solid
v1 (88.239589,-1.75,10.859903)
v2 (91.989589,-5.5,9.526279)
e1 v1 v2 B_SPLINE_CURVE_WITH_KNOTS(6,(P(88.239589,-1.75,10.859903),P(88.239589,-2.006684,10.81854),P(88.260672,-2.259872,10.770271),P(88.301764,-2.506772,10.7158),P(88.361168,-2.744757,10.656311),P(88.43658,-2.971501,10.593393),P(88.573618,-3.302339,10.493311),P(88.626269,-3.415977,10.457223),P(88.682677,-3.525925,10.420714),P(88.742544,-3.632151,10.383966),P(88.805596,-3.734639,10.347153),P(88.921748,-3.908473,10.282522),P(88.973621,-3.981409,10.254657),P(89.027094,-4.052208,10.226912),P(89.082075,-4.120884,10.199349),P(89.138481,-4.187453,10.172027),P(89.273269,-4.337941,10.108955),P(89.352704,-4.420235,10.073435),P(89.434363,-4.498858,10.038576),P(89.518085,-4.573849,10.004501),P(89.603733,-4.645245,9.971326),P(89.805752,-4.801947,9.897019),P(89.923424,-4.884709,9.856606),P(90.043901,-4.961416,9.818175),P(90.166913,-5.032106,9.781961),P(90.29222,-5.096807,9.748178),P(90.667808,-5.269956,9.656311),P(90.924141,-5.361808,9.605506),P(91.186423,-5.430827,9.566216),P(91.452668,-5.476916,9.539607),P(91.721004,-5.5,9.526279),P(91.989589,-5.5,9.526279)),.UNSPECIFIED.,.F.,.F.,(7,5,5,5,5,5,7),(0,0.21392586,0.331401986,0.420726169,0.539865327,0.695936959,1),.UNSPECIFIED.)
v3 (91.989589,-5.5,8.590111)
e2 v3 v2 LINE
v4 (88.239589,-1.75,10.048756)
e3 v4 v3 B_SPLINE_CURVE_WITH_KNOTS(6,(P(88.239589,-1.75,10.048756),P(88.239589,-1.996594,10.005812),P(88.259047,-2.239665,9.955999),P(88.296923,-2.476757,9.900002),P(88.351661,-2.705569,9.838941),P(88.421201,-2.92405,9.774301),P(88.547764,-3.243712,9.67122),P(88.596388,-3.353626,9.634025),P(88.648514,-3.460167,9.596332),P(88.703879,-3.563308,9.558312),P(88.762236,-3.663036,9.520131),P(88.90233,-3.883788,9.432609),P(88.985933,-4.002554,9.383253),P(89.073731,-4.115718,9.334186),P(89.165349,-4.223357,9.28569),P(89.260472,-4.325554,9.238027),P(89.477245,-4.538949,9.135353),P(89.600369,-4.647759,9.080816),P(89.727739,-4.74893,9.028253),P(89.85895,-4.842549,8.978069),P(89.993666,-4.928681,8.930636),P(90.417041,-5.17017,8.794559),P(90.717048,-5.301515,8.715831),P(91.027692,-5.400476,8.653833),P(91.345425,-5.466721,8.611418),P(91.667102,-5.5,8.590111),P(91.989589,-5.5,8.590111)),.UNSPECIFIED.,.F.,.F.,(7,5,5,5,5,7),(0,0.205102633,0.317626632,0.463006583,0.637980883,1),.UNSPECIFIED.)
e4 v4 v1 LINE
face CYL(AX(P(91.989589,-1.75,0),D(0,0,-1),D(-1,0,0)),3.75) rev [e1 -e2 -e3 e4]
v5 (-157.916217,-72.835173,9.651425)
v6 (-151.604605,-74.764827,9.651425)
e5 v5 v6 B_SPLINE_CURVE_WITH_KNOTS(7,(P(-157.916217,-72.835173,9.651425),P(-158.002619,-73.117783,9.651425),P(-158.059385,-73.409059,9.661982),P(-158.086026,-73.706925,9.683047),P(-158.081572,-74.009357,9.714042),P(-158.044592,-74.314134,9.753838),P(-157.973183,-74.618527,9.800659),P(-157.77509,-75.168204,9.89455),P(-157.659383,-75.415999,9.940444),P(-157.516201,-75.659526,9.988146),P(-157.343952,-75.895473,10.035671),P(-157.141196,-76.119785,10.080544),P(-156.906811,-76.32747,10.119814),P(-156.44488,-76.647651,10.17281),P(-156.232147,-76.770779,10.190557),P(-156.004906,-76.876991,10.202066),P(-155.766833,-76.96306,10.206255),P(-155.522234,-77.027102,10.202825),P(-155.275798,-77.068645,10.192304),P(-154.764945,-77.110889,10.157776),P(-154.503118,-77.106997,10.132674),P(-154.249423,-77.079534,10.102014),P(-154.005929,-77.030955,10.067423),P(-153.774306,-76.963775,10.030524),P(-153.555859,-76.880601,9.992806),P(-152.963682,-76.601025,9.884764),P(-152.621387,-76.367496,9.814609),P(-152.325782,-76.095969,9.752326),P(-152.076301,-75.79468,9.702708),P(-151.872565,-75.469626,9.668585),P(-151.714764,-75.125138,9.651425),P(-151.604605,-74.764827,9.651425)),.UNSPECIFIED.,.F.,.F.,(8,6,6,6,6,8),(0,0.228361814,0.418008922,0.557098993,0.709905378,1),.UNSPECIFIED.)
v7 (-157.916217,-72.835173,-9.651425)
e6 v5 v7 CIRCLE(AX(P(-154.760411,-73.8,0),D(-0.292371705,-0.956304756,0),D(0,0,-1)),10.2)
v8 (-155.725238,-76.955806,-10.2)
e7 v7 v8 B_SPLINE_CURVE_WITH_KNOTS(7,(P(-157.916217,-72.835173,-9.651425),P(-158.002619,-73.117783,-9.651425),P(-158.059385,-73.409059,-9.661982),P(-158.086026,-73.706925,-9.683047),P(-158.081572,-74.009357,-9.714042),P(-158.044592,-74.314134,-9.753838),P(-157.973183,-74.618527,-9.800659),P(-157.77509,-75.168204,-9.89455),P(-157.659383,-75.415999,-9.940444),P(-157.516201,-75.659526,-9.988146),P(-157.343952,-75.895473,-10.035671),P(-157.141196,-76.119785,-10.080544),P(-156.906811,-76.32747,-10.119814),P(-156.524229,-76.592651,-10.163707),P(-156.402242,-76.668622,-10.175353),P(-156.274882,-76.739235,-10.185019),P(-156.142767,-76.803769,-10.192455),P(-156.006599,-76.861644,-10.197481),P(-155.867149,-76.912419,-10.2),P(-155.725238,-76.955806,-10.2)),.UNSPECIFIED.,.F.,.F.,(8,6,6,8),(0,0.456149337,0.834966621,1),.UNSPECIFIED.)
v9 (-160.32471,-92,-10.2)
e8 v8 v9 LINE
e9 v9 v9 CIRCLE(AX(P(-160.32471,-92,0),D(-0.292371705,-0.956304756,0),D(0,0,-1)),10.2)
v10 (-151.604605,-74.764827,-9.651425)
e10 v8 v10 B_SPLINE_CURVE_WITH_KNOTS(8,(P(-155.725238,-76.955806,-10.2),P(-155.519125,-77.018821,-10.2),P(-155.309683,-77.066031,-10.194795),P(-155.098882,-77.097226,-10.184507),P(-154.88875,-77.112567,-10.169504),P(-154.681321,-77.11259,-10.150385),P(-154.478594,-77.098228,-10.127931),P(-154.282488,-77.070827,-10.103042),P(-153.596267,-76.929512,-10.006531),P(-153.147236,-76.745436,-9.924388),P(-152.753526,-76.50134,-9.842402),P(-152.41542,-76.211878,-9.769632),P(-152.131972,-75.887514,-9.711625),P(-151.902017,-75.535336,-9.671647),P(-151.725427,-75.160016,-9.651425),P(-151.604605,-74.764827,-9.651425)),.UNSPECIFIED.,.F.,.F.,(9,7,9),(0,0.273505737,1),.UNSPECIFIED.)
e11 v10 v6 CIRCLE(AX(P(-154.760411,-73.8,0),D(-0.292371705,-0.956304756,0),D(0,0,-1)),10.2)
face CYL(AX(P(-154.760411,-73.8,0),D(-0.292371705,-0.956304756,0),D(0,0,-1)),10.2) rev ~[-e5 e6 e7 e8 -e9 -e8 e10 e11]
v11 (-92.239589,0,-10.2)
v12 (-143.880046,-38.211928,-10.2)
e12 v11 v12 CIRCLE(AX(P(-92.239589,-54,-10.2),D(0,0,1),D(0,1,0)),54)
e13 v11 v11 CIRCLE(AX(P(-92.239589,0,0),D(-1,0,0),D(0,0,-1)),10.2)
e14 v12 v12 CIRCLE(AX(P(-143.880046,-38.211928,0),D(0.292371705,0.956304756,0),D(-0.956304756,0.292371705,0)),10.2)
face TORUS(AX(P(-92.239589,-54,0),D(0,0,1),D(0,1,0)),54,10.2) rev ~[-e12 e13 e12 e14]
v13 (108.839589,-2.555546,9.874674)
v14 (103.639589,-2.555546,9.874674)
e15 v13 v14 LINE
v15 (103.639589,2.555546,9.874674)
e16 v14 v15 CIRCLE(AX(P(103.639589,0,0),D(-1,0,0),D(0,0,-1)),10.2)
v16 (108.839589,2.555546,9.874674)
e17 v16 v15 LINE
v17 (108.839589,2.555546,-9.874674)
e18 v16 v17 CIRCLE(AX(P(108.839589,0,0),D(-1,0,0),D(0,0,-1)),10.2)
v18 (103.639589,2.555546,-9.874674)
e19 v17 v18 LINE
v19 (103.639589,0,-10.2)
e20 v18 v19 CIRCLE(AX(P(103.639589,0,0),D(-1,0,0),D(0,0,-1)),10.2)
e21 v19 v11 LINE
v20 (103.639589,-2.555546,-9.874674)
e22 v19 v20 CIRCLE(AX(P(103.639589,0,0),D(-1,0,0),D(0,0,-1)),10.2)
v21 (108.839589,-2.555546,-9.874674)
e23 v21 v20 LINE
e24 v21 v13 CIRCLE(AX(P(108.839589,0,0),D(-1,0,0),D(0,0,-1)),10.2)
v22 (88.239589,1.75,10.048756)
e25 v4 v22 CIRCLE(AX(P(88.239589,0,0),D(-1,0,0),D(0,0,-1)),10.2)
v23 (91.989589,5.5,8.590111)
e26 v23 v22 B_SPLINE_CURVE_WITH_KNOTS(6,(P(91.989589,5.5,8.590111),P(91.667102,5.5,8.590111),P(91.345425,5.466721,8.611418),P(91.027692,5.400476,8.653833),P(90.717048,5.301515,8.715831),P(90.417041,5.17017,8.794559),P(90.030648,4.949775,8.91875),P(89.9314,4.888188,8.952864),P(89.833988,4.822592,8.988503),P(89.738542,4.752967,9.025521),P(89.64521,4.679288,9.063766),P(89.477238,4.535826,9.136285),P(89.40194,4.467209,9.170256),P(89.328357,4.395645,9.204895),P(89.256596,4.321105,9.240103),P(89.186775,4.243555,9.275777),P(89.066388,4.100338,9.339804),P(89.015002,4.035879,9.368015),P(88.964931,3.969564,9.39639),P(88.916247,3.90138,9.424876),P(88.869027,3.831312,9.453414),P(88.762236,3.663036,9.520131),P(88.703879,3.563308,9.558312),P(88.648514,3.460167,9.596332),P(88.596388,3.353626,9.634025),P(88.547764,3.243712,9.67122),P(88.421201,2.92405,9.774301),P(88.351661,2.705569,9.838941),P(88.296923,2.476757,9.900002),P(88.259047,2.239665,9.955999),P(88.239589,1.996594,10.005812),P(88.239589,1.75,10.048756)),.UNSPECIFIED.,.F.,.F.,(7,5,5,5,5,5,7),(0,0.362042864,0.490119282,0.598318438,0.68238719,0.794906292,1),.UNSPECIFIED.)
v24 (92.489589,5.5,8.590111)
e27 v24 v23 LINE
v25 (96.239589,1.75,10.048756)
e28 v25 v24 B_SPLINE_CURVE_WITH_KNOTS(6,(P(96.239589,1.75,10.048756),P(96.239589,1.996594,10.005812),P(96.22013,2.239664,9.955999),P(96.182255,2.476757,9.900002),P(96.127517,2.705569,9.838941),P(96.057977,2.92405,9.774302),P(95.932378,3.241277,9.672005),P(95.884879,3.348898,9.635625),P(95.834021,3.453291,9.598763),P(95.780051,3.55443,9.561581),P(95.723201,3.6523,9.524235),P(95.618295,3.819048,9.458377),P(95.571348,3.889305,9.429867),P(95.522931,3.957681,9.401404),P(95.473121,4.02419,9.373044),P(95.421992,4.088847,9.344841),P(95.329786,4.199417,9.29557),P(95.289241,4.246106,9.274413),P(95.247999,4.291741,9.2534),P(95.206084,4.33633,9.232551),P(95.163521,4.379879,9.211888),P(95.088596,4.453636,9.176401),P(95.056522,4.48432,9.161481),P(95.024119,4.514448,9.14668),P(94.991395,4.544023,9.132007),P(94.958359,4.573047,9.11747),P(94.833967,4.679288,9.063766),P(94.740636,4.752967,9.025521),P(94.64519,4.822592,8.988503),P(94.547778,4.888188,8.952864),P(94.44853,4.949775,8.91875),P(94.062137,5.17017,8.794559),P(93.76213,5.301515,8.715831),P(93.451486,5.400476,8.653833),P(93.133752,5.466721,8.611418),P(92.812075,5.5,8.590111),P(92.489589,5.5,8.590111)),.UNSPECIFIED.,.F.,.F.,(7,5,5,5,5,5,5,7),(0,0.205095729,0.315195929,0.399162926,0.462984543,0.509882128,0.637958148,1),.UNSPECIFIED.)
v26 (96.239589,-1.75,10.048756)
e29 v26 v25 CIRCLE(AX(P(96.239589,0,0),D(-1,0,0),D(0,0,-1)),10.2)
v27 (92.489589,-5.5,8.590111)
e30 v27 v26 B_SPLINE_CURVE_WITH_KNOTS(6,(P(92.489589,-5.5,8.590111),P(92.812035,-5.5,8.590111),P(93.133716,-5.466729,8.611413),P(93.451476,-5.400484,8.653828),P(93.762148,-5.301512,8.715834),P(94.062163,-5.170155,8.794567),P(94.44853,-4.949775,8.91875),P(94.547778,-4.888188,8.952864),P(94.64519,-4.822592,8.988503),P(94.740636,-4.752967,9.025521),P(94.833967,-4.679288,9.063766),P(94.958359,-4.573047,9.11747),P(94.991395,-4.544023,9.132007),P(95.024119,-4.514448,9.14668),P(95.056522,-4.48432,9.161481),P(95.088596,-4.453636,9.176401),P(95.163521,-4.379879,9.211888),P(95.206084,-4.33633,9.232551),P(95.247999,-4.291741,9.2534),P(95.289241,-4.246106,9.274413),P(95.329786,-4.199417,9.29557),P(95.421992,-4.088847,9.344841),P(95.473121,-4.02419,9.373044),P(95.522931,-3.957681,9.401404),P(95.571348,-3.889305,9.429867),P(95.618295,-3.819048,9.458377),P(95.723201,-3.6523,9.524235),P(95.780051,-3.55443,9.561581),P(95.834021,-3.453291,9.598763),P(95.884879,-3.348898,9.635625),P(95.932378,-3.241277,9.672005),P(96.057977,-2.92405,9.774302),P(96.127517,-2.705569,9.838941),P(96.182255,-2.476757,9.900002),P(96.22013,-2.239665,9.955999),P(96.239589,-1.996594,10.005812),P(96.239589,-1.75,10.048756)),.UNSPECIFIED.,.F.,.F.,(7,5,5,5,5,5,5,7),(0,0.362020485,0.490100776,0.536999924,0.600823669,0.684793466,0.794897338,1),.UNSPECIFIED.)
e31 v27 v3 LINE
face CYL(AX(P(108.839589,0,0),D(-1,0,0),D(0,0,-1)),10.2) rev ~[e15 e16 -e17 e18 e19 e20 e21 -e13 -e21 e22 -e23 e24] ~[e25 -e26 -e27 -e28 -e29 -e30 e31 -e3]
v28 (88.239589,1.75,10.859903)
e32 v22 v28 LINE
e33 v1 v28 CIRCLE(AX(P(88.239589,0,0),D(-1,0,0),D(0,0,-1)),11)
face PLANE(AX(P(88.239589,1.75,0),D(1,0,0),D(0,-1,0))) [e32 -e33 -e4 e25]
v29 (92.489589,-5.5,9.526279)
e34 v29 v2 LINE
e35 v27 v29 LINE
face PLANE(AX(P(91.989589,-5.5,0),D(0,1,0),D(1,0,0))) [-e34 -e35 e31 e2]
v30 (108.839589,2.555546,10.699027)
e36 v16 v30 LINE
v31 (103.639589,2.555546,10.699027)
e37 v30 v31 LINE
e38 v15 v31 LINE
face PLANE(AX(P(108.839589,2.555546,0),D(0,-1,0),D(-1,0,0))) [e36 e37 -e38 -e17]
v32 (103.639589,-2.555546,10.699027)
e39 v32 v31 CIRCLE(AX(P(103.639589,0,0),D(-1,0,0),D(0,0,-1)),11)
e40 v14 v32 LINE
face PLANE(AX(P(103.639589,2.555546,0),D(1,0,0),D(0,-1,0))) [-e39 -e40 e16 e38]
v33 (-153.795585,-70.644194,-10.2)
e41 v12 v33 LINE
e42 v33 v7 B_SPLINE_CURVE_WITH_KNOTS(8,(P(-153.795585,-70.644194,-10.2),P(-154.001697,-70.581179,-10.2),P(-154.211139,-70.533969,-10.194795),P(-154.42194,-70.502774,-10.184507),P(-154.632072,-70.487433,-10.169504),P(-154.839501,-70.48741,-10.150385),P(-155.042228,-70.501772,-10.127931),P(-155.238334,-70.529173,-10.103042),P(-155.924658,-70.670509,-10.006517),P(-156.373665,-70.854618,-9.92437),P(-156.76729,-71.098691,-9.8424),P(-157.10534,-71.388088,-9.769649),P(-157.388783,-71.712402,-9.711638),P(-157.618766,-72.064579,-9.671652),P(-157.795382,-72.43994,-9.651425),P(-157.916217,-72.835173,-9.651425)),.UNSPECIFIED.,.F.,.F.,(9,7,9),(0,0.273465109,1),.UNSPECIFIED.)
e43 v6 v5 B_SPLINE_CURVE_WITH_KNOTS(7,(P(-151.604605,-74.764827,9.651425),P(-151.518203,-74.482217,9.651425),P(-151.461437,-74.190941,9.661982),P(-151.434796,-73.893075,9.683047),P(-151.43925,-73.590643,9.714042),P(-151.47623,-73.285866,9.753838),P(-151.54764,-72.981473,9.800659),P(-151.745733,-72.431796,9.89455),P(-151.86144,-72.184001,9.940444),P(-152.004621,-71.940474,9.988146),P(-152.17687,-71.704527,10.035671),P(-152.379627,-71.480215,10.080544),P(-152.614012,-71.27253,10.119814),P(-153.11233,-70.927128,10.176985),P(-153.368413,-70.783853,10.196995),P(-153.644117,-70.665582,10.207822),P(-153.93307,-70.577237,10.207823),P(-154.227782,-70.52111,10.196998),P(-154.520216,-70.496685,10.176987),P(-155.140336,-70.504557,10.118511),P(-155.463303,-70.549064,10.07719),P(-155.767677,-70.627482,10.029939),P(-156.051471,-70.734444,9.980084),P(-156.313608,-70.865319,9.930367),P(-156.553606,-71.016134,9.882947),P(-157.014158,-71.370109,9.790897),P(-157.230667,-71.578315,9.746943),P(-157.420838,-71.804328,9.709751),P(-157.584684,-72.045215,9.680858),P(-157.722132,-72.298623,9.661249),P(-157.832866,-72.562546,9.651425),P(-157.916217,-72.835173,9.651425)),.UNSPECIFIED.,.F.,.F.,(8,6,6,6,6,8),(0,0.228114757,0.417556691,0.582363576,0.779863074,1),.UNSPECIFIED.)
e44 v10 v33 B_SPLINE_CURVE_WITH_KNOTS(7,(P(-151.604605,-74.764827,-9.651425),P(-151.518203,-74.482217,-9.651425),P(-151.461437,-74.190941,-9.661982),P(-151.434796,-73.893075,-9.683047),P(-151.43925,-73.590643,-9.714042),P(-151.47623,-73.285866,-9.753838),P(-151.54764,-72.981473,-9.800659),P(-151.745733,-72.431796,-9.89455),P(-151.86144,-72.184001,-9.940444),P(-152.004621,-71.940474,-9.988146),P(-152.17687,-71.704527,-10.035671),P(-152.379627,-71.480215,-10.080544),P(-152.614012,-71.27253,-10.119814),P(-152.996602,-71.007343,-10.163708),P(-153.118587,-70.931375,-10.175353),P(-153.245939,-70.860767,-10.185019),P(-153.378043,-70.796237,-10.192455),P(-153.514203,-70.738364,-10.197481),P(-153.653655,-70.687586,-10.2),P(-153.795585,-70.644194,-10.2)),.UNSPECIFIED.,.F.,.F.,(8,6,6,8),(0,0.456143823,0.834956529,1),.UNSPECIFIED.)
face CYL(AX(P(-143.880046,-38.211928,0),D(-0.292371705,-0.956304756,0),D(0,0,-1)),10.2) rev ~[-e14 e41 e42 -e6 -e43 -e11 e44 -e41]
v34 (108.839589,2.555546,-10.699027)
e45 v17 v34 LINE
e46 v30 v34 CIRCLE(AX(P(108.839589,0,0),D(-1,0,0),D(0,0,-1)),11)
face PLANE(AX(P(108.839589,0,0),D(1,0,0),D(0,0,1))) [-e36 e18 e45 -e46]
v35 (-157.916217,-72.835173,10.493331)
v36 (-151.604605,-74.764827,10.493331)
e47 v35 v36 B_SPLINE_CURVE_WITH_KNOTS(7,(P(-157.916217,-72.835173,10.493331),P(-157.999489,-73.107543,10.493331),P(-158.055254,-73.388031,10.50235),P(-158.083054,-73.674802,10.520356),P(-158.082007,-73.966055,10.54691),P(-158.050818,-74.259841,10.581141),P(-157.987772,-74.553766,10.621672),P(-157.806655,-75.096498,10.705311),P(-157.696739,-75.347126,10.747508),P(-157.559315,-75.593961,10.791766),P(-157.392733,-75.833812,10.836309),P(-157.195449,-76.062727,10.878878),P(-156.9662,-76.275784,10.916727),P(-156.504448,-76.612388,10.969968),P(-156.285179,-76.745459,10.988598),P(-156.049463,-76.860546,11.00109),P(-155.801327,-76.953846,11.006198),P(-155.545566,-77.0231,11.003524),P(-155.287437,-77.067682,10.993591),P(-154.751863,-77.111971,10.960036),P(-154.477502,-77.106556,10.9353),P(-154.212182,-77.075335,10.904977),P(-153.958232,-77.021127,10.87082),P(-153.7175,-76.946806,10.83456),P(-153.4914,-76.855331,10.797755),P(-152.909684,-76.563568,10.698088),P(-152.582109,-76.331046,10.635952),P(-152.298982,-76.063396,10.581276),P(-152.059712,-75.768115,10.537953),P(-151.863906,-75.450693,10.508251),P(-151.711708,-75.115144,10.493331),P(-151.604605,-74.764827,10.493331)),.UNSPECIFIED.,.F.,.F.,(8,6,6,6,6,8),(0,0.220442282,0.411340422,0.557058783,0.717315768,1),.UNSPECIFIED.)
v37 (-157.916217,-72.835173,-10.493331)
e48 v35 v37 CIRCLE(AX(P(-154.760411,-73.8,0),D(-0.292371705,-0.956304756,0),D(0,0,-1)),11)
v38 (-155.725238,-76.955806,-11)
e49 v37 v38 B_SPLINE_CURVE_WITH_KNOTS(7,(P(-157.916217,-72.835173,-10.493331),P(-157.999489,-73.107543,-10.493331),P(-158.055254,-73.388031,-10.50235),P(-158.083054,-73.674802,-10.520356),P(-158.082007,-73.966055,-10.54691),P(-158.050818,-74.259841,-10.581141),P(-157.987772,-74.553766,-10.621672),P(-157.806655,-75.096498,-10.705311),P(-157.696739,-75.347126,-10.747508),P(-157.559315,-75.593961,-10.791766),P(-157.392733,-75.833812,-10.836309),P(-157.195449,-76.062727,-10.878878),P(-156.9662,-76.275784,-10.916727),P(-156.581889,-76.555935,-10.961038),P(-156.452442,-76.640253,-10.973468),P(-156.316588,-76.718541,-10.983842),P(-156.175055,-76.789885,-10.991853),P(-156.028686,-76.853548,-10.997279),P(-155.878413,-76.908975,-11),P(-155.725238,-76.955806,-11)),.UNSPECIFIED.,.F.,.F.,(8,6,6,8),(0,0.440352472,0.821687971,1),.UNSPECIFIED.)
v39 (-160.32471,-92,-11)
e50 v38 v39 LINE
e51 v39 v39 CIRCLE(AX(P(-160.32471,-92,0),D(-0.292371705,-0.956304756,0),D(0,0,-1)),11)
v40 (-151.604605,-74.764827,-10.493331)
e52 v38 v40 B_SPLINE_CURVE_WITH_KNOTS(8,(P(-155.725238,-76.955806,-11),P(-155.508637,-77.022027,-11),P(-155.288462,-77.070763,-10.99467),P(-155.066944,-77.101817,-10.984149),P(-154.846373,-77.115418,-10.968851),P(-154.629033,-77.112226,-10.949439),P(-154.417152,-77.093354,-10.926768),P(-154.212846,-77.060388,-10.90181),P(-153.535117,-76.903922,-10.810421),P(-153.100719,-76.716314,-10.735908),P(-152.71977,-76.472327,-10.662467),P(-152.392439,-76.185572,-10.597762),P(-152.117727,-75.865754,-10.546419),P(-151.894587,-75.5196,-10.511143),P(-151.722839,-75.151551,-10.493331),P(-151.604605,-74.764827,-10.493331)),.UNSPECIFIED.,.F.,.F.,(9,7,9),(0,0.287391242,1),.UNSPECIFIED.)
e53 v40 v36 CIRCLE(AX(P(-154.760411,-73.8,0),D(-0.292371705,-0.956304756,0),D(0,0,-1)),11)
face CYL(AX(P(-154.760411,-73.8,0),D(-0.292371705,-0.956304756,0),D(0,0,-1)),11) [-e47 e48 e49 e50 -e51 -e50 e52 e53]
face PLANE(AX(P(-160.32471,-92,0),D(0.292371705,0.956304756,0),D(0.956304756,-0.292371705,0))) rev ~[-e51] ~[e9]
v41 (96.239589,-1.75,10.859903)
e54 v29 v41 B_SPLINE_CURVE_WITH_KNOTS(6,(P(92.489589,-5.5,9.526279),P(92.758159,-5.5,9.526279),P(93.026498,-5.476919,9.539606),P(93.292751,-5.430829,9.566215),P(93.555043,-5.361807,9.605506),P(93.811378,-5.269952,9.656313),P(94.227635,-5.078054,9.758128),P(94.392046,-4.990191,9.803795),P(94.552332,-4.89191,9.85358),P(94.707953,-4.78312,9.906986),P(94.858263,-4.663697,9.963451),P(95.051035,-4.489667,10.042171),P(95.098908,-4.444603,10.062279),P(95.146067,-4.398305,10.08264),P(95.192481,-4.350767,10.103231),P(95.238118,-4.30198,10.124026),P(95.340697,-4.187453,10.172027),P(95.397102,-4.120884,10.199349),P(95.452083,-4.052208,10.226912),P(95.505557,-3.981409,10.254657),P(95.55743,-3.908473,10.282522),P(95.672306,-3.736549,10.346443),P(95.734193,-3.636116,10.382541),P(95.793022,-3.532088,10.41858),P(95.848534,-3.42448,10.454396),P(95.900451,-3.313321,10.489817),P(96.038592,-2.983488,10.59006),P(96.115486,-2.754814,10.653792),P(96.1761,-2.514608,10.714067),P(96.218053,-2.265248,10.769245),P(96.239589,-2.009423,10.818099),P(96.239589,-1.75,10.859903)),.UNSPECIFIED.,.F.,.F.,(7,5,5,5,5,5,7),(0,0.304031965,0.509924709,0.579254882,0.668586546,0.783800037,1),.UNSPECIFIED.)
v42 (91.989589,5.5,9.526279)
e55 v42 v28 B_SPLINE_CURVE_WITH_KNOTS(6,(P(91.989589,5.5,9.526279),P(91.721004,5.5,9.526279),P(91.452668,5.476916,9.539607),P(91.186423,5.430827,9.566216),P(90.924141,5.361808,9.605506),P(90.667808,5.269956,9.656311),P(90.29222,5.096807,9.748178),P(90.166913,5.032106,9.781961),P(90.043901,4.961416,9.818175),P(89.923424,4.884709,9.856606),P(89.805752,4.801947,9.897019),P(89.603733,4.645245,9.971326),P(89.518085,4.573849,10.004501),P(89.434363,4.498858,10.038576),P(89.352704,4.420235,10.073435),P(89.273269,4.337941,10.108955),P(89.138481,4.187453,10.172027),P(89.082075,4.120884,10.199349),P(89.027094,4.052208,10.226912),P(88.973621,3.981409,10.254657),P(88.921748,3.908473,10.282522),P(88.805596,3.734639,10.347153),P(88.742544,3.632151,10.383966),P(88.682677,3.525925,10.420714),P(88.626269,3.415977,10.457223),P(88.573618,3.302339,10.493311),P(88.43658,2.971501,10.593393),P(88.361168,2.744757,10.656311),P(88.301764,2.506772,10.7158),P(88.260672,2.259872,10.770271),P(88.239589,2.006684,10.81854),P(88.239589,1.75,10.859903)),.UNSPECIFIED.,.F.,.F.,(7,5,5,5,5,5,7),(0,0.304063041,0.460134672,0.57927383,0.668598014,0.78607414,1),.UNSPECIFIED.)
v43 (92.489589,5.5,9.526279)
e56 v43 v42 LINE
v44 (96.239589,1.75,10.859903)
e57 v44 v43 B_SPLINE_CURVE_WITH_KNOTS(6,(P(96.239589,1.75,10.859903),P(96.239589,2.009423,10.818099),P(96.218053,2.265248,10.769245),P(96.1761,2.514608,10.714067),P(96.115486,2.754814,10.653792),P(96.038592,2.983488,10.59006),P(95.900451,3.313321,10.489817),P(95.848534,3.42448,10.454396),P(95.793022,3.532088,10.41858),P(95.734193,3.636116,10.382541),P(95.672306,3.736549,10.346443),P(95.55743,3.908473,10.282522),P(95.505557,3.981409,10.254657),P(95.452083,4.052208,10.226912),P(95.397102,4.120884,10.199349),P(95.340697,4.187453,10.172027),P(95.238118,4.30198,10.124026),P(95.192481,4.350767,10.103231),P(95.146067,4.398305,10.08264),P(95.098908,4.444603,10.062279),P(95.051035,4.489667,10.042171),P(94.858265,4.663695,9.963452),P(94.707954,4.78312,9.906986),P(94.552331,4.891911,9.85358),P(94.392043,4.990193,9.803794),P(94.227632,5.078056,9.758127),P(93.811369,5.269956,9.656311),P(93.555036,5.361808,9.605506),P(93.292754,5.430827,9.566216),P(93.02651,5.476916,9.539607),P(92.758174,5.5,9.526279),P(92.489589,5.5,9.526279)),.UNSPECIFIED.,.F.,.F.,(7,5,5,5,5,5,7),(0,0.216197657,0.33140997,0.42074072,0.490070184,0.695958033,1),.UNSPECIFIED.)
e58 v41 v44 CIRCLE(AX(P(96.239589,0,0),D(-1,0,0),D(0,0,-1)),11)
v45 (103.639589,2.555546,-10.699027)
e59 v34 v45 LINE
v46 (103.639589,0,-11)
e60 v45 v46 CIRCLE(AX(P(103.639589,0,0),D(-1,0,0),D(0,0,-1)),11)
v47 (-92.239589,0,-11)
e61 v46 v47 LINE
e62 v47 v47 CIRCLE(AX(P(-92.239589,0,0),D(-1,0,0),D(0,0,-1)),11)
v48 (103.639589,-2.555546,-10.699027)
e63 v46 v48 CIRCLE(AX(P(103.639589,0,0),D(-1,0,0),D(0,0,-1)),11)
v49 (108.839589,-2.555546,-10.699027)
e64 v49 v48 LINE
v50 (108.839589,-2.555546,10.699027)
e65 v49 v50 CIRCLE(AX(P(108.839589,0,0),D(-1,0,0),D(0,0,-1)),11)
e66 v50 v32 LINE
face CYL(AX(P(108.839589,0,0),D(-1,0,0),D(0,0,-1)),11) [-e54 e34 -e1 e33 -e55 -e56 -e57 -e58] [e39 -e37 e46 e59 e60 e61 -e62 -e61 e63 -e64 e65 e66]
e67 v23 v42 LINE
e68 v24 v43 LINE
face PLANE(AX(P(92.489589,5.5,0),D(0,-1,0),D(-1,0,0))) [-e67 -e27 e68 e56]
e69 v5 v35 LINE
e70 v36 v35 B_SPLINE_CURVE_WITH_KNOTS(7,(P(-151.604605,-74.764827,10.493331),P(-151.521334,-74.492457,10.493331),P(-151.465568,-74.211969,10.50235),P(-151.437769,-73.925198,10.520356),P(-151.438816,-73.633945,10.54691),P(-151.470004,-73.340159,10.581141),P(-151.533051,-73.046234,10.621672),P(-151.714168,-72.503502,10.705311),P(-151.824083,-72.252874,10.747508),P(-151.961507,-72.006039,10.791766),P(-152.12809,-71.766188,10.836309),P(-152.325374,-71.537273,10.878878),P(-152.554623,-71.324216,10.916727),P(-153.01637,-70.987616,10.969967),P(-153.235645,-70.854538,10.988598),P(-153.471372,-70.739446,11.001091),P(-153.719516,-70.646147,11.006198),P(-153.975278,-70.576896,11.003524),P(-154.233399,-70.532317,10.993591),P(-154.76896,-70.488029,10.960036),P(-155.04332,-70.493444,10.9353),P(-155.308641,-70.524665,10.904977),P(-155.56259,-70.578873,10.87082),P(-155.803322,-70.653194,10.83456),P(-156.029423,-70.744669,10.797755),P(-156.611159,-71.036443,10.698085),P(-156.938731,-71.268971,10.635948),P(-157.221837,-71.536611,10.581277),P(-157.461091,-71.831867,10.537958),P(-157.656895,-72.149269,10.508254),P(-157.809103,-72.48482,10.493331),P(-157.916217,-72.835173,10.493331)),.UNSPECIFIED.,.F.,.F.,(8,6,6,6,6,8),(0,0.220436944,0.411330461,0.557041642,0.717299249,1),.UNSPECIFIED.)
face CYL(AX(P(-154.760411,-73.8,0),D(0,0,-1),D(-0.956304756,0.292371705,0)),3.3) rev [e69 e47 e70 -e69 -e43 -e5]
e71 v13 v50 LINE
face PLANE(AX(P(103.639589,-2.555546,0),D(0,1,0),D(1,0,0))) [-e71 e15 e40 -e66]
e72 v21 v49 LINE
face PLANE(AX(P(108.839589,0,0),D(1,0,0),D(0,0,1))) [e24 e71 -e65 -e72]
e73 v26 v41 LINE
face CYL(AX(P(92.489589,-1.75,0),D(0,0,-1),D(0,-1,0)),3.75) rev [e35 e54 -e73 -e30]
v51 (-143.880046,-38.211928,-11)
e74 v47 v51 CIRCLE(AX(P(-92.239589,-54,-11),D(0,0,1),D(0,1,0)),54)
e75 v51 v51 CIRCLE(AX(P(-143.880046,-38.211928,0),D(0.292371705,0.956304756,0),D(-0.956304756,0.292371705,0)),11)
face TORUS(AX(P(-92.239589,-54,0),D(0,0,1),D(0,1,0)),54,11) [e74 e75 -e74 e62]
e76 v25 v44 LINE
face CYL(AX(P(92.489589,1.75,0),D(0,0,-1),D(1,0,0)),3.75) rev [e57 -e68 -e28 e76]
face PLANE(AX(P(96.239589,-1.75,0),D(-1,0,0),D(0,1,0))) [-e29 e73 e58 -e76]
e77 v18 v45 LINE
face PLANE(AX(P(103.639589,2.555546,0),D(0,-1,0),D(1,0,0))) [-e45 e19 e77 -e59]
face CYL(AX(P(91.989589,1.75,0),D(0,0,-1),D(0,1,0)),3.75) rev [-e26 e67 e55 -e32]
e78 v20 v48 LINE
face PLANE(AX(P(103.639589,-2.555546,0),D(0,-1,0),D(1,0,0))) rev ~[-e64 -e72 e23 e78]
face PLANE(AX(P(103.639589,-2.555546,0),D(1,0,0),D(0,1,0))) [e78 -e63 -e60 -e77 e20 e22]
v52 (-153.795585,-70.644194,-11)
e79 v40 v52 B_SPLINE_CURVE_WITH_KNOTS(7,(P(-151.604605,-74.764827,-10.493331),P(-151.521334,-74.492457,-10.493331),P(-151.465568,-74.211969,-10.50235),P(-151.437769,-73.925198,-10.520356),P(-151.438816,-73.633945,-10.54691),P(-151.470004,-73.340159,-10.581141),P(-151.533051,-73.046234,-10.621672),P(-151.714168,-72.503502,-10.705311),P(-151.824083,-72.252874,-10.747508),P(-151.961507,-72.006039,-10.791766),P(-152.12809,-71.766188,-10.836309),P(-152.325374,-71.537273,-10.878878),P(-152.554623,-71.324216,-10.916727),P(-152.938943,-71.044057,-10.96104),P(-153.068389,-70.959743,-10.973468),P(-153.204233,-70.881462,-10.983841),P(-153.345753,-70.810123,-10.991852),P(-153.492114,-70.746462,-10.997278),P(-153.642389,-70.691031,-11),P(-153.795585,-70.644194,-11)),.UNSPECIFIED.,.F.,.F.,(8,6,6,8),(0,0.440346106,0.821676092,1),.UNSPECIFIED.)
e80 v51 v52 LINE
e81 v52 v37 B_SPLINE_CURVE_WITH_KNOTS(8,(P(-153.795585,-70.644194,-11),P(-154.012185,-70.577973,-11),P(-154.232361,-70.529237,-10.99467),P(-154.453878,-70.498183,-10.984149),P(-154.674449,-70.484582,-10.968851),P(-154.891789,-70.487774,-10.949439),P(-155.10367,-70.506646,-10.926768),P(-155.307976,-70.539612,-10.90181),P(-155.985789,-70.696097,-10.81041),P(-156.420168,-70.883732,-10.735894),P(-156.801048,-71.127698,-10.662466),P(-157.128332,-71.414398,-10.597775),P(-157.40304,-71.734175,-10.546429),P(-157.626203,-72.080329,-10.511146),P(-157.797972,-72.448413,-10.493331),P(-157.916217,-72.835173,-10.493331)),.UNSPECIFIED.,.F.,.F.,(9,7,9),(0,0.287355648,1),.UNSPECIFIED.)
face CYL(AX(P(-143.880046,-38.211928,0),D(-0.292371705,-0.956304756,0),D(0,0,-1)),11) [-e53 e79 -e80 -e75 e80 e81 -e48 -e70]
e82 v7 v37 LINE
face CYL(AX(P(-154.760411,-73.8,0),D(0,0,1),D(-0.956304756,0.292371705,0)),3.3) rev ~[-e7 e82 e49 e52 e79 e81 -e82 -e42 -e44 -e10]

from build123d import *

# Parameters (mm, degrees)
SKETCH3_R          = 11
SKETCH3_R_2        = 10.2
CUT_EXTRUDE1_REACH = 197.895
SKETCH4_R          = 3.3
SKETCH5_R          = 3.3
CUT_EXTRUDE2_DEPTH = 196.894862351
SKETCH6_W          = 5.2
SKETCH6_H          = 5.111091306
CUT_EXTRUDE3_DEPTH = 196.894862351


with BuildPart() as part:
    # Sweep2: sweep along a path in Sketch1
    with BuildLine(Plane.XY) as sweep2_path:
        Line((108.839588828, 0), (92.239588828, 0))
        Line((92.239588828, 0), (-92.239588828, 0))
        ThreePointArc((-92.239588828, 0), (-124.360019313, -10.591729527), (-143.88004565, -38.211927945))
        Line((-143.88004565, -38.211927945), (-154.760411172, -73.8))
        Line((-154.760411172, -73.8), (-160.324709574, -92))
    # Sketch3 → Sweep2 (sweep)
    with BuildSketch(Plane(origin=(92.239588828, 0, 0), x_dir=(0, 0, -1), z_dir=(1, 0, 0))):
        Circle(SKETCH3_R)
        Circle(SKETCH3_R_2, mode=Mode.SUBTRACT)
    sweep(path=sweep2_path.line)

    # Sketch4 → Cut-Extrude1 (cut, up to next)
    with BuildSketch(Plane.XY, mode=Mode.PRIVATE) as cut_extrude1_sk1:
        with Locations((-154.760411172, -73.8)):
            Circle(SKETCH4_R)
    cut_extrude1_tool1 = extrude(cut_extrude1_sk1.sketch, amount=CUT_EXTRUDE1_REACH, mode=Mode.PRIVATE) & part.part
    # Sketch4 → Cut-Extrude1 (cut, up to next)
    with BuildSketch(Plane.XY, mode=Mode.PRIVATE) as cut_extrude1_sk2:
        Polygon((108.839588828, 2.555545653), (108.839588828, -2.555545653), (105.639588828, -2.555545653), (103.639588828, -2.555545653), (103.639588828, -0.555545653), (103.639588828, 0.555545653), (103.639588828, 2.555545653), (105.639588828, 2.555545653), align=None)
    cut_extrude1_tool2 = extrude(cut_extrude1_sk2.sketch, amount=CUT_EXTRUDE1_REACH, mode=Mode.PRIVATE) & part.part
    # Sketch4 → Cut-Extrude1 (cut, up to next)
    with BuildSketch(Plane.XY, mode=Mode.PRIVATE) as cut_extrude1_sk3:
        with BuildLine():
            Line((91.989588828, -5.5), (92.489588828, -5.5))
            ThreePointArc((92.489588828, -5.5), (95.141239258, -4.401650429), (96.239588828, -1.75))
            Line((96.239588828, -1.75), (96.239588828, 1.75))
            ThreePointArc((96.239588828, 1.75), (95.141239258, 4.401650429), (92.489588828, 5.5))
            Line((92.489588828, 5.5), (91.989588828, 5.5))
            ThreePointArc((91.989588828, 5.5), (89.337938399, 4.401650429), (88.239588828, 1.75))
            Line((88.239588828, 1.75), (88.239588828, -1.75))
            ThreePointArc((88.239588828, -1.75), (89.337938399, -4.401650429), (91.989588828, -5.5))
        make_face()
    cut_extrude1_tool3 = extrude(cut_extrude1_sk3.sketch, amount=CUT_EXTRUDE1_REACH, mode=Mode.PRIVATE) & part.part
    add(cut_extrude1_tool1.solids().sort_by_distance((-154.760411, -73.8, 0))[0], mode=Mode.SUBTRACT)
    add(cut_extrude1_tool2.solids().sort_by_distance((106.239589, 0, 0))[0], mode=Mode.SUBTRACT)
    add(cut_extrude1_tool3.solids().sort_by_distance((92.239589, 0, 0))[0], mode=Mode.SUBTRACT)

    # Sketch5 → Cut-Extrude2 (cut, through all)
    with BuildSketch(Plane.XY):
        with Locations((-154.760411172, -73.8)):
            Circle(SKETCH5_R)
    extrude(amount=-CUT_EXTRUDE2_DEPTH, mode=Mode.SUBTRACT)

    # Sketch6 → Cut-Extrude3 (cut, through all)
    with BuildSketch(Plane.XY):
        with Locations((106.239588828, 0)):
            Rectangle(SKETCH6_W, SKETCH6_H)
    extrude(amount=-CUT_EXTRUDE3_DEPTH, mode=Mode.SUBTRACT)


solid = part.part
